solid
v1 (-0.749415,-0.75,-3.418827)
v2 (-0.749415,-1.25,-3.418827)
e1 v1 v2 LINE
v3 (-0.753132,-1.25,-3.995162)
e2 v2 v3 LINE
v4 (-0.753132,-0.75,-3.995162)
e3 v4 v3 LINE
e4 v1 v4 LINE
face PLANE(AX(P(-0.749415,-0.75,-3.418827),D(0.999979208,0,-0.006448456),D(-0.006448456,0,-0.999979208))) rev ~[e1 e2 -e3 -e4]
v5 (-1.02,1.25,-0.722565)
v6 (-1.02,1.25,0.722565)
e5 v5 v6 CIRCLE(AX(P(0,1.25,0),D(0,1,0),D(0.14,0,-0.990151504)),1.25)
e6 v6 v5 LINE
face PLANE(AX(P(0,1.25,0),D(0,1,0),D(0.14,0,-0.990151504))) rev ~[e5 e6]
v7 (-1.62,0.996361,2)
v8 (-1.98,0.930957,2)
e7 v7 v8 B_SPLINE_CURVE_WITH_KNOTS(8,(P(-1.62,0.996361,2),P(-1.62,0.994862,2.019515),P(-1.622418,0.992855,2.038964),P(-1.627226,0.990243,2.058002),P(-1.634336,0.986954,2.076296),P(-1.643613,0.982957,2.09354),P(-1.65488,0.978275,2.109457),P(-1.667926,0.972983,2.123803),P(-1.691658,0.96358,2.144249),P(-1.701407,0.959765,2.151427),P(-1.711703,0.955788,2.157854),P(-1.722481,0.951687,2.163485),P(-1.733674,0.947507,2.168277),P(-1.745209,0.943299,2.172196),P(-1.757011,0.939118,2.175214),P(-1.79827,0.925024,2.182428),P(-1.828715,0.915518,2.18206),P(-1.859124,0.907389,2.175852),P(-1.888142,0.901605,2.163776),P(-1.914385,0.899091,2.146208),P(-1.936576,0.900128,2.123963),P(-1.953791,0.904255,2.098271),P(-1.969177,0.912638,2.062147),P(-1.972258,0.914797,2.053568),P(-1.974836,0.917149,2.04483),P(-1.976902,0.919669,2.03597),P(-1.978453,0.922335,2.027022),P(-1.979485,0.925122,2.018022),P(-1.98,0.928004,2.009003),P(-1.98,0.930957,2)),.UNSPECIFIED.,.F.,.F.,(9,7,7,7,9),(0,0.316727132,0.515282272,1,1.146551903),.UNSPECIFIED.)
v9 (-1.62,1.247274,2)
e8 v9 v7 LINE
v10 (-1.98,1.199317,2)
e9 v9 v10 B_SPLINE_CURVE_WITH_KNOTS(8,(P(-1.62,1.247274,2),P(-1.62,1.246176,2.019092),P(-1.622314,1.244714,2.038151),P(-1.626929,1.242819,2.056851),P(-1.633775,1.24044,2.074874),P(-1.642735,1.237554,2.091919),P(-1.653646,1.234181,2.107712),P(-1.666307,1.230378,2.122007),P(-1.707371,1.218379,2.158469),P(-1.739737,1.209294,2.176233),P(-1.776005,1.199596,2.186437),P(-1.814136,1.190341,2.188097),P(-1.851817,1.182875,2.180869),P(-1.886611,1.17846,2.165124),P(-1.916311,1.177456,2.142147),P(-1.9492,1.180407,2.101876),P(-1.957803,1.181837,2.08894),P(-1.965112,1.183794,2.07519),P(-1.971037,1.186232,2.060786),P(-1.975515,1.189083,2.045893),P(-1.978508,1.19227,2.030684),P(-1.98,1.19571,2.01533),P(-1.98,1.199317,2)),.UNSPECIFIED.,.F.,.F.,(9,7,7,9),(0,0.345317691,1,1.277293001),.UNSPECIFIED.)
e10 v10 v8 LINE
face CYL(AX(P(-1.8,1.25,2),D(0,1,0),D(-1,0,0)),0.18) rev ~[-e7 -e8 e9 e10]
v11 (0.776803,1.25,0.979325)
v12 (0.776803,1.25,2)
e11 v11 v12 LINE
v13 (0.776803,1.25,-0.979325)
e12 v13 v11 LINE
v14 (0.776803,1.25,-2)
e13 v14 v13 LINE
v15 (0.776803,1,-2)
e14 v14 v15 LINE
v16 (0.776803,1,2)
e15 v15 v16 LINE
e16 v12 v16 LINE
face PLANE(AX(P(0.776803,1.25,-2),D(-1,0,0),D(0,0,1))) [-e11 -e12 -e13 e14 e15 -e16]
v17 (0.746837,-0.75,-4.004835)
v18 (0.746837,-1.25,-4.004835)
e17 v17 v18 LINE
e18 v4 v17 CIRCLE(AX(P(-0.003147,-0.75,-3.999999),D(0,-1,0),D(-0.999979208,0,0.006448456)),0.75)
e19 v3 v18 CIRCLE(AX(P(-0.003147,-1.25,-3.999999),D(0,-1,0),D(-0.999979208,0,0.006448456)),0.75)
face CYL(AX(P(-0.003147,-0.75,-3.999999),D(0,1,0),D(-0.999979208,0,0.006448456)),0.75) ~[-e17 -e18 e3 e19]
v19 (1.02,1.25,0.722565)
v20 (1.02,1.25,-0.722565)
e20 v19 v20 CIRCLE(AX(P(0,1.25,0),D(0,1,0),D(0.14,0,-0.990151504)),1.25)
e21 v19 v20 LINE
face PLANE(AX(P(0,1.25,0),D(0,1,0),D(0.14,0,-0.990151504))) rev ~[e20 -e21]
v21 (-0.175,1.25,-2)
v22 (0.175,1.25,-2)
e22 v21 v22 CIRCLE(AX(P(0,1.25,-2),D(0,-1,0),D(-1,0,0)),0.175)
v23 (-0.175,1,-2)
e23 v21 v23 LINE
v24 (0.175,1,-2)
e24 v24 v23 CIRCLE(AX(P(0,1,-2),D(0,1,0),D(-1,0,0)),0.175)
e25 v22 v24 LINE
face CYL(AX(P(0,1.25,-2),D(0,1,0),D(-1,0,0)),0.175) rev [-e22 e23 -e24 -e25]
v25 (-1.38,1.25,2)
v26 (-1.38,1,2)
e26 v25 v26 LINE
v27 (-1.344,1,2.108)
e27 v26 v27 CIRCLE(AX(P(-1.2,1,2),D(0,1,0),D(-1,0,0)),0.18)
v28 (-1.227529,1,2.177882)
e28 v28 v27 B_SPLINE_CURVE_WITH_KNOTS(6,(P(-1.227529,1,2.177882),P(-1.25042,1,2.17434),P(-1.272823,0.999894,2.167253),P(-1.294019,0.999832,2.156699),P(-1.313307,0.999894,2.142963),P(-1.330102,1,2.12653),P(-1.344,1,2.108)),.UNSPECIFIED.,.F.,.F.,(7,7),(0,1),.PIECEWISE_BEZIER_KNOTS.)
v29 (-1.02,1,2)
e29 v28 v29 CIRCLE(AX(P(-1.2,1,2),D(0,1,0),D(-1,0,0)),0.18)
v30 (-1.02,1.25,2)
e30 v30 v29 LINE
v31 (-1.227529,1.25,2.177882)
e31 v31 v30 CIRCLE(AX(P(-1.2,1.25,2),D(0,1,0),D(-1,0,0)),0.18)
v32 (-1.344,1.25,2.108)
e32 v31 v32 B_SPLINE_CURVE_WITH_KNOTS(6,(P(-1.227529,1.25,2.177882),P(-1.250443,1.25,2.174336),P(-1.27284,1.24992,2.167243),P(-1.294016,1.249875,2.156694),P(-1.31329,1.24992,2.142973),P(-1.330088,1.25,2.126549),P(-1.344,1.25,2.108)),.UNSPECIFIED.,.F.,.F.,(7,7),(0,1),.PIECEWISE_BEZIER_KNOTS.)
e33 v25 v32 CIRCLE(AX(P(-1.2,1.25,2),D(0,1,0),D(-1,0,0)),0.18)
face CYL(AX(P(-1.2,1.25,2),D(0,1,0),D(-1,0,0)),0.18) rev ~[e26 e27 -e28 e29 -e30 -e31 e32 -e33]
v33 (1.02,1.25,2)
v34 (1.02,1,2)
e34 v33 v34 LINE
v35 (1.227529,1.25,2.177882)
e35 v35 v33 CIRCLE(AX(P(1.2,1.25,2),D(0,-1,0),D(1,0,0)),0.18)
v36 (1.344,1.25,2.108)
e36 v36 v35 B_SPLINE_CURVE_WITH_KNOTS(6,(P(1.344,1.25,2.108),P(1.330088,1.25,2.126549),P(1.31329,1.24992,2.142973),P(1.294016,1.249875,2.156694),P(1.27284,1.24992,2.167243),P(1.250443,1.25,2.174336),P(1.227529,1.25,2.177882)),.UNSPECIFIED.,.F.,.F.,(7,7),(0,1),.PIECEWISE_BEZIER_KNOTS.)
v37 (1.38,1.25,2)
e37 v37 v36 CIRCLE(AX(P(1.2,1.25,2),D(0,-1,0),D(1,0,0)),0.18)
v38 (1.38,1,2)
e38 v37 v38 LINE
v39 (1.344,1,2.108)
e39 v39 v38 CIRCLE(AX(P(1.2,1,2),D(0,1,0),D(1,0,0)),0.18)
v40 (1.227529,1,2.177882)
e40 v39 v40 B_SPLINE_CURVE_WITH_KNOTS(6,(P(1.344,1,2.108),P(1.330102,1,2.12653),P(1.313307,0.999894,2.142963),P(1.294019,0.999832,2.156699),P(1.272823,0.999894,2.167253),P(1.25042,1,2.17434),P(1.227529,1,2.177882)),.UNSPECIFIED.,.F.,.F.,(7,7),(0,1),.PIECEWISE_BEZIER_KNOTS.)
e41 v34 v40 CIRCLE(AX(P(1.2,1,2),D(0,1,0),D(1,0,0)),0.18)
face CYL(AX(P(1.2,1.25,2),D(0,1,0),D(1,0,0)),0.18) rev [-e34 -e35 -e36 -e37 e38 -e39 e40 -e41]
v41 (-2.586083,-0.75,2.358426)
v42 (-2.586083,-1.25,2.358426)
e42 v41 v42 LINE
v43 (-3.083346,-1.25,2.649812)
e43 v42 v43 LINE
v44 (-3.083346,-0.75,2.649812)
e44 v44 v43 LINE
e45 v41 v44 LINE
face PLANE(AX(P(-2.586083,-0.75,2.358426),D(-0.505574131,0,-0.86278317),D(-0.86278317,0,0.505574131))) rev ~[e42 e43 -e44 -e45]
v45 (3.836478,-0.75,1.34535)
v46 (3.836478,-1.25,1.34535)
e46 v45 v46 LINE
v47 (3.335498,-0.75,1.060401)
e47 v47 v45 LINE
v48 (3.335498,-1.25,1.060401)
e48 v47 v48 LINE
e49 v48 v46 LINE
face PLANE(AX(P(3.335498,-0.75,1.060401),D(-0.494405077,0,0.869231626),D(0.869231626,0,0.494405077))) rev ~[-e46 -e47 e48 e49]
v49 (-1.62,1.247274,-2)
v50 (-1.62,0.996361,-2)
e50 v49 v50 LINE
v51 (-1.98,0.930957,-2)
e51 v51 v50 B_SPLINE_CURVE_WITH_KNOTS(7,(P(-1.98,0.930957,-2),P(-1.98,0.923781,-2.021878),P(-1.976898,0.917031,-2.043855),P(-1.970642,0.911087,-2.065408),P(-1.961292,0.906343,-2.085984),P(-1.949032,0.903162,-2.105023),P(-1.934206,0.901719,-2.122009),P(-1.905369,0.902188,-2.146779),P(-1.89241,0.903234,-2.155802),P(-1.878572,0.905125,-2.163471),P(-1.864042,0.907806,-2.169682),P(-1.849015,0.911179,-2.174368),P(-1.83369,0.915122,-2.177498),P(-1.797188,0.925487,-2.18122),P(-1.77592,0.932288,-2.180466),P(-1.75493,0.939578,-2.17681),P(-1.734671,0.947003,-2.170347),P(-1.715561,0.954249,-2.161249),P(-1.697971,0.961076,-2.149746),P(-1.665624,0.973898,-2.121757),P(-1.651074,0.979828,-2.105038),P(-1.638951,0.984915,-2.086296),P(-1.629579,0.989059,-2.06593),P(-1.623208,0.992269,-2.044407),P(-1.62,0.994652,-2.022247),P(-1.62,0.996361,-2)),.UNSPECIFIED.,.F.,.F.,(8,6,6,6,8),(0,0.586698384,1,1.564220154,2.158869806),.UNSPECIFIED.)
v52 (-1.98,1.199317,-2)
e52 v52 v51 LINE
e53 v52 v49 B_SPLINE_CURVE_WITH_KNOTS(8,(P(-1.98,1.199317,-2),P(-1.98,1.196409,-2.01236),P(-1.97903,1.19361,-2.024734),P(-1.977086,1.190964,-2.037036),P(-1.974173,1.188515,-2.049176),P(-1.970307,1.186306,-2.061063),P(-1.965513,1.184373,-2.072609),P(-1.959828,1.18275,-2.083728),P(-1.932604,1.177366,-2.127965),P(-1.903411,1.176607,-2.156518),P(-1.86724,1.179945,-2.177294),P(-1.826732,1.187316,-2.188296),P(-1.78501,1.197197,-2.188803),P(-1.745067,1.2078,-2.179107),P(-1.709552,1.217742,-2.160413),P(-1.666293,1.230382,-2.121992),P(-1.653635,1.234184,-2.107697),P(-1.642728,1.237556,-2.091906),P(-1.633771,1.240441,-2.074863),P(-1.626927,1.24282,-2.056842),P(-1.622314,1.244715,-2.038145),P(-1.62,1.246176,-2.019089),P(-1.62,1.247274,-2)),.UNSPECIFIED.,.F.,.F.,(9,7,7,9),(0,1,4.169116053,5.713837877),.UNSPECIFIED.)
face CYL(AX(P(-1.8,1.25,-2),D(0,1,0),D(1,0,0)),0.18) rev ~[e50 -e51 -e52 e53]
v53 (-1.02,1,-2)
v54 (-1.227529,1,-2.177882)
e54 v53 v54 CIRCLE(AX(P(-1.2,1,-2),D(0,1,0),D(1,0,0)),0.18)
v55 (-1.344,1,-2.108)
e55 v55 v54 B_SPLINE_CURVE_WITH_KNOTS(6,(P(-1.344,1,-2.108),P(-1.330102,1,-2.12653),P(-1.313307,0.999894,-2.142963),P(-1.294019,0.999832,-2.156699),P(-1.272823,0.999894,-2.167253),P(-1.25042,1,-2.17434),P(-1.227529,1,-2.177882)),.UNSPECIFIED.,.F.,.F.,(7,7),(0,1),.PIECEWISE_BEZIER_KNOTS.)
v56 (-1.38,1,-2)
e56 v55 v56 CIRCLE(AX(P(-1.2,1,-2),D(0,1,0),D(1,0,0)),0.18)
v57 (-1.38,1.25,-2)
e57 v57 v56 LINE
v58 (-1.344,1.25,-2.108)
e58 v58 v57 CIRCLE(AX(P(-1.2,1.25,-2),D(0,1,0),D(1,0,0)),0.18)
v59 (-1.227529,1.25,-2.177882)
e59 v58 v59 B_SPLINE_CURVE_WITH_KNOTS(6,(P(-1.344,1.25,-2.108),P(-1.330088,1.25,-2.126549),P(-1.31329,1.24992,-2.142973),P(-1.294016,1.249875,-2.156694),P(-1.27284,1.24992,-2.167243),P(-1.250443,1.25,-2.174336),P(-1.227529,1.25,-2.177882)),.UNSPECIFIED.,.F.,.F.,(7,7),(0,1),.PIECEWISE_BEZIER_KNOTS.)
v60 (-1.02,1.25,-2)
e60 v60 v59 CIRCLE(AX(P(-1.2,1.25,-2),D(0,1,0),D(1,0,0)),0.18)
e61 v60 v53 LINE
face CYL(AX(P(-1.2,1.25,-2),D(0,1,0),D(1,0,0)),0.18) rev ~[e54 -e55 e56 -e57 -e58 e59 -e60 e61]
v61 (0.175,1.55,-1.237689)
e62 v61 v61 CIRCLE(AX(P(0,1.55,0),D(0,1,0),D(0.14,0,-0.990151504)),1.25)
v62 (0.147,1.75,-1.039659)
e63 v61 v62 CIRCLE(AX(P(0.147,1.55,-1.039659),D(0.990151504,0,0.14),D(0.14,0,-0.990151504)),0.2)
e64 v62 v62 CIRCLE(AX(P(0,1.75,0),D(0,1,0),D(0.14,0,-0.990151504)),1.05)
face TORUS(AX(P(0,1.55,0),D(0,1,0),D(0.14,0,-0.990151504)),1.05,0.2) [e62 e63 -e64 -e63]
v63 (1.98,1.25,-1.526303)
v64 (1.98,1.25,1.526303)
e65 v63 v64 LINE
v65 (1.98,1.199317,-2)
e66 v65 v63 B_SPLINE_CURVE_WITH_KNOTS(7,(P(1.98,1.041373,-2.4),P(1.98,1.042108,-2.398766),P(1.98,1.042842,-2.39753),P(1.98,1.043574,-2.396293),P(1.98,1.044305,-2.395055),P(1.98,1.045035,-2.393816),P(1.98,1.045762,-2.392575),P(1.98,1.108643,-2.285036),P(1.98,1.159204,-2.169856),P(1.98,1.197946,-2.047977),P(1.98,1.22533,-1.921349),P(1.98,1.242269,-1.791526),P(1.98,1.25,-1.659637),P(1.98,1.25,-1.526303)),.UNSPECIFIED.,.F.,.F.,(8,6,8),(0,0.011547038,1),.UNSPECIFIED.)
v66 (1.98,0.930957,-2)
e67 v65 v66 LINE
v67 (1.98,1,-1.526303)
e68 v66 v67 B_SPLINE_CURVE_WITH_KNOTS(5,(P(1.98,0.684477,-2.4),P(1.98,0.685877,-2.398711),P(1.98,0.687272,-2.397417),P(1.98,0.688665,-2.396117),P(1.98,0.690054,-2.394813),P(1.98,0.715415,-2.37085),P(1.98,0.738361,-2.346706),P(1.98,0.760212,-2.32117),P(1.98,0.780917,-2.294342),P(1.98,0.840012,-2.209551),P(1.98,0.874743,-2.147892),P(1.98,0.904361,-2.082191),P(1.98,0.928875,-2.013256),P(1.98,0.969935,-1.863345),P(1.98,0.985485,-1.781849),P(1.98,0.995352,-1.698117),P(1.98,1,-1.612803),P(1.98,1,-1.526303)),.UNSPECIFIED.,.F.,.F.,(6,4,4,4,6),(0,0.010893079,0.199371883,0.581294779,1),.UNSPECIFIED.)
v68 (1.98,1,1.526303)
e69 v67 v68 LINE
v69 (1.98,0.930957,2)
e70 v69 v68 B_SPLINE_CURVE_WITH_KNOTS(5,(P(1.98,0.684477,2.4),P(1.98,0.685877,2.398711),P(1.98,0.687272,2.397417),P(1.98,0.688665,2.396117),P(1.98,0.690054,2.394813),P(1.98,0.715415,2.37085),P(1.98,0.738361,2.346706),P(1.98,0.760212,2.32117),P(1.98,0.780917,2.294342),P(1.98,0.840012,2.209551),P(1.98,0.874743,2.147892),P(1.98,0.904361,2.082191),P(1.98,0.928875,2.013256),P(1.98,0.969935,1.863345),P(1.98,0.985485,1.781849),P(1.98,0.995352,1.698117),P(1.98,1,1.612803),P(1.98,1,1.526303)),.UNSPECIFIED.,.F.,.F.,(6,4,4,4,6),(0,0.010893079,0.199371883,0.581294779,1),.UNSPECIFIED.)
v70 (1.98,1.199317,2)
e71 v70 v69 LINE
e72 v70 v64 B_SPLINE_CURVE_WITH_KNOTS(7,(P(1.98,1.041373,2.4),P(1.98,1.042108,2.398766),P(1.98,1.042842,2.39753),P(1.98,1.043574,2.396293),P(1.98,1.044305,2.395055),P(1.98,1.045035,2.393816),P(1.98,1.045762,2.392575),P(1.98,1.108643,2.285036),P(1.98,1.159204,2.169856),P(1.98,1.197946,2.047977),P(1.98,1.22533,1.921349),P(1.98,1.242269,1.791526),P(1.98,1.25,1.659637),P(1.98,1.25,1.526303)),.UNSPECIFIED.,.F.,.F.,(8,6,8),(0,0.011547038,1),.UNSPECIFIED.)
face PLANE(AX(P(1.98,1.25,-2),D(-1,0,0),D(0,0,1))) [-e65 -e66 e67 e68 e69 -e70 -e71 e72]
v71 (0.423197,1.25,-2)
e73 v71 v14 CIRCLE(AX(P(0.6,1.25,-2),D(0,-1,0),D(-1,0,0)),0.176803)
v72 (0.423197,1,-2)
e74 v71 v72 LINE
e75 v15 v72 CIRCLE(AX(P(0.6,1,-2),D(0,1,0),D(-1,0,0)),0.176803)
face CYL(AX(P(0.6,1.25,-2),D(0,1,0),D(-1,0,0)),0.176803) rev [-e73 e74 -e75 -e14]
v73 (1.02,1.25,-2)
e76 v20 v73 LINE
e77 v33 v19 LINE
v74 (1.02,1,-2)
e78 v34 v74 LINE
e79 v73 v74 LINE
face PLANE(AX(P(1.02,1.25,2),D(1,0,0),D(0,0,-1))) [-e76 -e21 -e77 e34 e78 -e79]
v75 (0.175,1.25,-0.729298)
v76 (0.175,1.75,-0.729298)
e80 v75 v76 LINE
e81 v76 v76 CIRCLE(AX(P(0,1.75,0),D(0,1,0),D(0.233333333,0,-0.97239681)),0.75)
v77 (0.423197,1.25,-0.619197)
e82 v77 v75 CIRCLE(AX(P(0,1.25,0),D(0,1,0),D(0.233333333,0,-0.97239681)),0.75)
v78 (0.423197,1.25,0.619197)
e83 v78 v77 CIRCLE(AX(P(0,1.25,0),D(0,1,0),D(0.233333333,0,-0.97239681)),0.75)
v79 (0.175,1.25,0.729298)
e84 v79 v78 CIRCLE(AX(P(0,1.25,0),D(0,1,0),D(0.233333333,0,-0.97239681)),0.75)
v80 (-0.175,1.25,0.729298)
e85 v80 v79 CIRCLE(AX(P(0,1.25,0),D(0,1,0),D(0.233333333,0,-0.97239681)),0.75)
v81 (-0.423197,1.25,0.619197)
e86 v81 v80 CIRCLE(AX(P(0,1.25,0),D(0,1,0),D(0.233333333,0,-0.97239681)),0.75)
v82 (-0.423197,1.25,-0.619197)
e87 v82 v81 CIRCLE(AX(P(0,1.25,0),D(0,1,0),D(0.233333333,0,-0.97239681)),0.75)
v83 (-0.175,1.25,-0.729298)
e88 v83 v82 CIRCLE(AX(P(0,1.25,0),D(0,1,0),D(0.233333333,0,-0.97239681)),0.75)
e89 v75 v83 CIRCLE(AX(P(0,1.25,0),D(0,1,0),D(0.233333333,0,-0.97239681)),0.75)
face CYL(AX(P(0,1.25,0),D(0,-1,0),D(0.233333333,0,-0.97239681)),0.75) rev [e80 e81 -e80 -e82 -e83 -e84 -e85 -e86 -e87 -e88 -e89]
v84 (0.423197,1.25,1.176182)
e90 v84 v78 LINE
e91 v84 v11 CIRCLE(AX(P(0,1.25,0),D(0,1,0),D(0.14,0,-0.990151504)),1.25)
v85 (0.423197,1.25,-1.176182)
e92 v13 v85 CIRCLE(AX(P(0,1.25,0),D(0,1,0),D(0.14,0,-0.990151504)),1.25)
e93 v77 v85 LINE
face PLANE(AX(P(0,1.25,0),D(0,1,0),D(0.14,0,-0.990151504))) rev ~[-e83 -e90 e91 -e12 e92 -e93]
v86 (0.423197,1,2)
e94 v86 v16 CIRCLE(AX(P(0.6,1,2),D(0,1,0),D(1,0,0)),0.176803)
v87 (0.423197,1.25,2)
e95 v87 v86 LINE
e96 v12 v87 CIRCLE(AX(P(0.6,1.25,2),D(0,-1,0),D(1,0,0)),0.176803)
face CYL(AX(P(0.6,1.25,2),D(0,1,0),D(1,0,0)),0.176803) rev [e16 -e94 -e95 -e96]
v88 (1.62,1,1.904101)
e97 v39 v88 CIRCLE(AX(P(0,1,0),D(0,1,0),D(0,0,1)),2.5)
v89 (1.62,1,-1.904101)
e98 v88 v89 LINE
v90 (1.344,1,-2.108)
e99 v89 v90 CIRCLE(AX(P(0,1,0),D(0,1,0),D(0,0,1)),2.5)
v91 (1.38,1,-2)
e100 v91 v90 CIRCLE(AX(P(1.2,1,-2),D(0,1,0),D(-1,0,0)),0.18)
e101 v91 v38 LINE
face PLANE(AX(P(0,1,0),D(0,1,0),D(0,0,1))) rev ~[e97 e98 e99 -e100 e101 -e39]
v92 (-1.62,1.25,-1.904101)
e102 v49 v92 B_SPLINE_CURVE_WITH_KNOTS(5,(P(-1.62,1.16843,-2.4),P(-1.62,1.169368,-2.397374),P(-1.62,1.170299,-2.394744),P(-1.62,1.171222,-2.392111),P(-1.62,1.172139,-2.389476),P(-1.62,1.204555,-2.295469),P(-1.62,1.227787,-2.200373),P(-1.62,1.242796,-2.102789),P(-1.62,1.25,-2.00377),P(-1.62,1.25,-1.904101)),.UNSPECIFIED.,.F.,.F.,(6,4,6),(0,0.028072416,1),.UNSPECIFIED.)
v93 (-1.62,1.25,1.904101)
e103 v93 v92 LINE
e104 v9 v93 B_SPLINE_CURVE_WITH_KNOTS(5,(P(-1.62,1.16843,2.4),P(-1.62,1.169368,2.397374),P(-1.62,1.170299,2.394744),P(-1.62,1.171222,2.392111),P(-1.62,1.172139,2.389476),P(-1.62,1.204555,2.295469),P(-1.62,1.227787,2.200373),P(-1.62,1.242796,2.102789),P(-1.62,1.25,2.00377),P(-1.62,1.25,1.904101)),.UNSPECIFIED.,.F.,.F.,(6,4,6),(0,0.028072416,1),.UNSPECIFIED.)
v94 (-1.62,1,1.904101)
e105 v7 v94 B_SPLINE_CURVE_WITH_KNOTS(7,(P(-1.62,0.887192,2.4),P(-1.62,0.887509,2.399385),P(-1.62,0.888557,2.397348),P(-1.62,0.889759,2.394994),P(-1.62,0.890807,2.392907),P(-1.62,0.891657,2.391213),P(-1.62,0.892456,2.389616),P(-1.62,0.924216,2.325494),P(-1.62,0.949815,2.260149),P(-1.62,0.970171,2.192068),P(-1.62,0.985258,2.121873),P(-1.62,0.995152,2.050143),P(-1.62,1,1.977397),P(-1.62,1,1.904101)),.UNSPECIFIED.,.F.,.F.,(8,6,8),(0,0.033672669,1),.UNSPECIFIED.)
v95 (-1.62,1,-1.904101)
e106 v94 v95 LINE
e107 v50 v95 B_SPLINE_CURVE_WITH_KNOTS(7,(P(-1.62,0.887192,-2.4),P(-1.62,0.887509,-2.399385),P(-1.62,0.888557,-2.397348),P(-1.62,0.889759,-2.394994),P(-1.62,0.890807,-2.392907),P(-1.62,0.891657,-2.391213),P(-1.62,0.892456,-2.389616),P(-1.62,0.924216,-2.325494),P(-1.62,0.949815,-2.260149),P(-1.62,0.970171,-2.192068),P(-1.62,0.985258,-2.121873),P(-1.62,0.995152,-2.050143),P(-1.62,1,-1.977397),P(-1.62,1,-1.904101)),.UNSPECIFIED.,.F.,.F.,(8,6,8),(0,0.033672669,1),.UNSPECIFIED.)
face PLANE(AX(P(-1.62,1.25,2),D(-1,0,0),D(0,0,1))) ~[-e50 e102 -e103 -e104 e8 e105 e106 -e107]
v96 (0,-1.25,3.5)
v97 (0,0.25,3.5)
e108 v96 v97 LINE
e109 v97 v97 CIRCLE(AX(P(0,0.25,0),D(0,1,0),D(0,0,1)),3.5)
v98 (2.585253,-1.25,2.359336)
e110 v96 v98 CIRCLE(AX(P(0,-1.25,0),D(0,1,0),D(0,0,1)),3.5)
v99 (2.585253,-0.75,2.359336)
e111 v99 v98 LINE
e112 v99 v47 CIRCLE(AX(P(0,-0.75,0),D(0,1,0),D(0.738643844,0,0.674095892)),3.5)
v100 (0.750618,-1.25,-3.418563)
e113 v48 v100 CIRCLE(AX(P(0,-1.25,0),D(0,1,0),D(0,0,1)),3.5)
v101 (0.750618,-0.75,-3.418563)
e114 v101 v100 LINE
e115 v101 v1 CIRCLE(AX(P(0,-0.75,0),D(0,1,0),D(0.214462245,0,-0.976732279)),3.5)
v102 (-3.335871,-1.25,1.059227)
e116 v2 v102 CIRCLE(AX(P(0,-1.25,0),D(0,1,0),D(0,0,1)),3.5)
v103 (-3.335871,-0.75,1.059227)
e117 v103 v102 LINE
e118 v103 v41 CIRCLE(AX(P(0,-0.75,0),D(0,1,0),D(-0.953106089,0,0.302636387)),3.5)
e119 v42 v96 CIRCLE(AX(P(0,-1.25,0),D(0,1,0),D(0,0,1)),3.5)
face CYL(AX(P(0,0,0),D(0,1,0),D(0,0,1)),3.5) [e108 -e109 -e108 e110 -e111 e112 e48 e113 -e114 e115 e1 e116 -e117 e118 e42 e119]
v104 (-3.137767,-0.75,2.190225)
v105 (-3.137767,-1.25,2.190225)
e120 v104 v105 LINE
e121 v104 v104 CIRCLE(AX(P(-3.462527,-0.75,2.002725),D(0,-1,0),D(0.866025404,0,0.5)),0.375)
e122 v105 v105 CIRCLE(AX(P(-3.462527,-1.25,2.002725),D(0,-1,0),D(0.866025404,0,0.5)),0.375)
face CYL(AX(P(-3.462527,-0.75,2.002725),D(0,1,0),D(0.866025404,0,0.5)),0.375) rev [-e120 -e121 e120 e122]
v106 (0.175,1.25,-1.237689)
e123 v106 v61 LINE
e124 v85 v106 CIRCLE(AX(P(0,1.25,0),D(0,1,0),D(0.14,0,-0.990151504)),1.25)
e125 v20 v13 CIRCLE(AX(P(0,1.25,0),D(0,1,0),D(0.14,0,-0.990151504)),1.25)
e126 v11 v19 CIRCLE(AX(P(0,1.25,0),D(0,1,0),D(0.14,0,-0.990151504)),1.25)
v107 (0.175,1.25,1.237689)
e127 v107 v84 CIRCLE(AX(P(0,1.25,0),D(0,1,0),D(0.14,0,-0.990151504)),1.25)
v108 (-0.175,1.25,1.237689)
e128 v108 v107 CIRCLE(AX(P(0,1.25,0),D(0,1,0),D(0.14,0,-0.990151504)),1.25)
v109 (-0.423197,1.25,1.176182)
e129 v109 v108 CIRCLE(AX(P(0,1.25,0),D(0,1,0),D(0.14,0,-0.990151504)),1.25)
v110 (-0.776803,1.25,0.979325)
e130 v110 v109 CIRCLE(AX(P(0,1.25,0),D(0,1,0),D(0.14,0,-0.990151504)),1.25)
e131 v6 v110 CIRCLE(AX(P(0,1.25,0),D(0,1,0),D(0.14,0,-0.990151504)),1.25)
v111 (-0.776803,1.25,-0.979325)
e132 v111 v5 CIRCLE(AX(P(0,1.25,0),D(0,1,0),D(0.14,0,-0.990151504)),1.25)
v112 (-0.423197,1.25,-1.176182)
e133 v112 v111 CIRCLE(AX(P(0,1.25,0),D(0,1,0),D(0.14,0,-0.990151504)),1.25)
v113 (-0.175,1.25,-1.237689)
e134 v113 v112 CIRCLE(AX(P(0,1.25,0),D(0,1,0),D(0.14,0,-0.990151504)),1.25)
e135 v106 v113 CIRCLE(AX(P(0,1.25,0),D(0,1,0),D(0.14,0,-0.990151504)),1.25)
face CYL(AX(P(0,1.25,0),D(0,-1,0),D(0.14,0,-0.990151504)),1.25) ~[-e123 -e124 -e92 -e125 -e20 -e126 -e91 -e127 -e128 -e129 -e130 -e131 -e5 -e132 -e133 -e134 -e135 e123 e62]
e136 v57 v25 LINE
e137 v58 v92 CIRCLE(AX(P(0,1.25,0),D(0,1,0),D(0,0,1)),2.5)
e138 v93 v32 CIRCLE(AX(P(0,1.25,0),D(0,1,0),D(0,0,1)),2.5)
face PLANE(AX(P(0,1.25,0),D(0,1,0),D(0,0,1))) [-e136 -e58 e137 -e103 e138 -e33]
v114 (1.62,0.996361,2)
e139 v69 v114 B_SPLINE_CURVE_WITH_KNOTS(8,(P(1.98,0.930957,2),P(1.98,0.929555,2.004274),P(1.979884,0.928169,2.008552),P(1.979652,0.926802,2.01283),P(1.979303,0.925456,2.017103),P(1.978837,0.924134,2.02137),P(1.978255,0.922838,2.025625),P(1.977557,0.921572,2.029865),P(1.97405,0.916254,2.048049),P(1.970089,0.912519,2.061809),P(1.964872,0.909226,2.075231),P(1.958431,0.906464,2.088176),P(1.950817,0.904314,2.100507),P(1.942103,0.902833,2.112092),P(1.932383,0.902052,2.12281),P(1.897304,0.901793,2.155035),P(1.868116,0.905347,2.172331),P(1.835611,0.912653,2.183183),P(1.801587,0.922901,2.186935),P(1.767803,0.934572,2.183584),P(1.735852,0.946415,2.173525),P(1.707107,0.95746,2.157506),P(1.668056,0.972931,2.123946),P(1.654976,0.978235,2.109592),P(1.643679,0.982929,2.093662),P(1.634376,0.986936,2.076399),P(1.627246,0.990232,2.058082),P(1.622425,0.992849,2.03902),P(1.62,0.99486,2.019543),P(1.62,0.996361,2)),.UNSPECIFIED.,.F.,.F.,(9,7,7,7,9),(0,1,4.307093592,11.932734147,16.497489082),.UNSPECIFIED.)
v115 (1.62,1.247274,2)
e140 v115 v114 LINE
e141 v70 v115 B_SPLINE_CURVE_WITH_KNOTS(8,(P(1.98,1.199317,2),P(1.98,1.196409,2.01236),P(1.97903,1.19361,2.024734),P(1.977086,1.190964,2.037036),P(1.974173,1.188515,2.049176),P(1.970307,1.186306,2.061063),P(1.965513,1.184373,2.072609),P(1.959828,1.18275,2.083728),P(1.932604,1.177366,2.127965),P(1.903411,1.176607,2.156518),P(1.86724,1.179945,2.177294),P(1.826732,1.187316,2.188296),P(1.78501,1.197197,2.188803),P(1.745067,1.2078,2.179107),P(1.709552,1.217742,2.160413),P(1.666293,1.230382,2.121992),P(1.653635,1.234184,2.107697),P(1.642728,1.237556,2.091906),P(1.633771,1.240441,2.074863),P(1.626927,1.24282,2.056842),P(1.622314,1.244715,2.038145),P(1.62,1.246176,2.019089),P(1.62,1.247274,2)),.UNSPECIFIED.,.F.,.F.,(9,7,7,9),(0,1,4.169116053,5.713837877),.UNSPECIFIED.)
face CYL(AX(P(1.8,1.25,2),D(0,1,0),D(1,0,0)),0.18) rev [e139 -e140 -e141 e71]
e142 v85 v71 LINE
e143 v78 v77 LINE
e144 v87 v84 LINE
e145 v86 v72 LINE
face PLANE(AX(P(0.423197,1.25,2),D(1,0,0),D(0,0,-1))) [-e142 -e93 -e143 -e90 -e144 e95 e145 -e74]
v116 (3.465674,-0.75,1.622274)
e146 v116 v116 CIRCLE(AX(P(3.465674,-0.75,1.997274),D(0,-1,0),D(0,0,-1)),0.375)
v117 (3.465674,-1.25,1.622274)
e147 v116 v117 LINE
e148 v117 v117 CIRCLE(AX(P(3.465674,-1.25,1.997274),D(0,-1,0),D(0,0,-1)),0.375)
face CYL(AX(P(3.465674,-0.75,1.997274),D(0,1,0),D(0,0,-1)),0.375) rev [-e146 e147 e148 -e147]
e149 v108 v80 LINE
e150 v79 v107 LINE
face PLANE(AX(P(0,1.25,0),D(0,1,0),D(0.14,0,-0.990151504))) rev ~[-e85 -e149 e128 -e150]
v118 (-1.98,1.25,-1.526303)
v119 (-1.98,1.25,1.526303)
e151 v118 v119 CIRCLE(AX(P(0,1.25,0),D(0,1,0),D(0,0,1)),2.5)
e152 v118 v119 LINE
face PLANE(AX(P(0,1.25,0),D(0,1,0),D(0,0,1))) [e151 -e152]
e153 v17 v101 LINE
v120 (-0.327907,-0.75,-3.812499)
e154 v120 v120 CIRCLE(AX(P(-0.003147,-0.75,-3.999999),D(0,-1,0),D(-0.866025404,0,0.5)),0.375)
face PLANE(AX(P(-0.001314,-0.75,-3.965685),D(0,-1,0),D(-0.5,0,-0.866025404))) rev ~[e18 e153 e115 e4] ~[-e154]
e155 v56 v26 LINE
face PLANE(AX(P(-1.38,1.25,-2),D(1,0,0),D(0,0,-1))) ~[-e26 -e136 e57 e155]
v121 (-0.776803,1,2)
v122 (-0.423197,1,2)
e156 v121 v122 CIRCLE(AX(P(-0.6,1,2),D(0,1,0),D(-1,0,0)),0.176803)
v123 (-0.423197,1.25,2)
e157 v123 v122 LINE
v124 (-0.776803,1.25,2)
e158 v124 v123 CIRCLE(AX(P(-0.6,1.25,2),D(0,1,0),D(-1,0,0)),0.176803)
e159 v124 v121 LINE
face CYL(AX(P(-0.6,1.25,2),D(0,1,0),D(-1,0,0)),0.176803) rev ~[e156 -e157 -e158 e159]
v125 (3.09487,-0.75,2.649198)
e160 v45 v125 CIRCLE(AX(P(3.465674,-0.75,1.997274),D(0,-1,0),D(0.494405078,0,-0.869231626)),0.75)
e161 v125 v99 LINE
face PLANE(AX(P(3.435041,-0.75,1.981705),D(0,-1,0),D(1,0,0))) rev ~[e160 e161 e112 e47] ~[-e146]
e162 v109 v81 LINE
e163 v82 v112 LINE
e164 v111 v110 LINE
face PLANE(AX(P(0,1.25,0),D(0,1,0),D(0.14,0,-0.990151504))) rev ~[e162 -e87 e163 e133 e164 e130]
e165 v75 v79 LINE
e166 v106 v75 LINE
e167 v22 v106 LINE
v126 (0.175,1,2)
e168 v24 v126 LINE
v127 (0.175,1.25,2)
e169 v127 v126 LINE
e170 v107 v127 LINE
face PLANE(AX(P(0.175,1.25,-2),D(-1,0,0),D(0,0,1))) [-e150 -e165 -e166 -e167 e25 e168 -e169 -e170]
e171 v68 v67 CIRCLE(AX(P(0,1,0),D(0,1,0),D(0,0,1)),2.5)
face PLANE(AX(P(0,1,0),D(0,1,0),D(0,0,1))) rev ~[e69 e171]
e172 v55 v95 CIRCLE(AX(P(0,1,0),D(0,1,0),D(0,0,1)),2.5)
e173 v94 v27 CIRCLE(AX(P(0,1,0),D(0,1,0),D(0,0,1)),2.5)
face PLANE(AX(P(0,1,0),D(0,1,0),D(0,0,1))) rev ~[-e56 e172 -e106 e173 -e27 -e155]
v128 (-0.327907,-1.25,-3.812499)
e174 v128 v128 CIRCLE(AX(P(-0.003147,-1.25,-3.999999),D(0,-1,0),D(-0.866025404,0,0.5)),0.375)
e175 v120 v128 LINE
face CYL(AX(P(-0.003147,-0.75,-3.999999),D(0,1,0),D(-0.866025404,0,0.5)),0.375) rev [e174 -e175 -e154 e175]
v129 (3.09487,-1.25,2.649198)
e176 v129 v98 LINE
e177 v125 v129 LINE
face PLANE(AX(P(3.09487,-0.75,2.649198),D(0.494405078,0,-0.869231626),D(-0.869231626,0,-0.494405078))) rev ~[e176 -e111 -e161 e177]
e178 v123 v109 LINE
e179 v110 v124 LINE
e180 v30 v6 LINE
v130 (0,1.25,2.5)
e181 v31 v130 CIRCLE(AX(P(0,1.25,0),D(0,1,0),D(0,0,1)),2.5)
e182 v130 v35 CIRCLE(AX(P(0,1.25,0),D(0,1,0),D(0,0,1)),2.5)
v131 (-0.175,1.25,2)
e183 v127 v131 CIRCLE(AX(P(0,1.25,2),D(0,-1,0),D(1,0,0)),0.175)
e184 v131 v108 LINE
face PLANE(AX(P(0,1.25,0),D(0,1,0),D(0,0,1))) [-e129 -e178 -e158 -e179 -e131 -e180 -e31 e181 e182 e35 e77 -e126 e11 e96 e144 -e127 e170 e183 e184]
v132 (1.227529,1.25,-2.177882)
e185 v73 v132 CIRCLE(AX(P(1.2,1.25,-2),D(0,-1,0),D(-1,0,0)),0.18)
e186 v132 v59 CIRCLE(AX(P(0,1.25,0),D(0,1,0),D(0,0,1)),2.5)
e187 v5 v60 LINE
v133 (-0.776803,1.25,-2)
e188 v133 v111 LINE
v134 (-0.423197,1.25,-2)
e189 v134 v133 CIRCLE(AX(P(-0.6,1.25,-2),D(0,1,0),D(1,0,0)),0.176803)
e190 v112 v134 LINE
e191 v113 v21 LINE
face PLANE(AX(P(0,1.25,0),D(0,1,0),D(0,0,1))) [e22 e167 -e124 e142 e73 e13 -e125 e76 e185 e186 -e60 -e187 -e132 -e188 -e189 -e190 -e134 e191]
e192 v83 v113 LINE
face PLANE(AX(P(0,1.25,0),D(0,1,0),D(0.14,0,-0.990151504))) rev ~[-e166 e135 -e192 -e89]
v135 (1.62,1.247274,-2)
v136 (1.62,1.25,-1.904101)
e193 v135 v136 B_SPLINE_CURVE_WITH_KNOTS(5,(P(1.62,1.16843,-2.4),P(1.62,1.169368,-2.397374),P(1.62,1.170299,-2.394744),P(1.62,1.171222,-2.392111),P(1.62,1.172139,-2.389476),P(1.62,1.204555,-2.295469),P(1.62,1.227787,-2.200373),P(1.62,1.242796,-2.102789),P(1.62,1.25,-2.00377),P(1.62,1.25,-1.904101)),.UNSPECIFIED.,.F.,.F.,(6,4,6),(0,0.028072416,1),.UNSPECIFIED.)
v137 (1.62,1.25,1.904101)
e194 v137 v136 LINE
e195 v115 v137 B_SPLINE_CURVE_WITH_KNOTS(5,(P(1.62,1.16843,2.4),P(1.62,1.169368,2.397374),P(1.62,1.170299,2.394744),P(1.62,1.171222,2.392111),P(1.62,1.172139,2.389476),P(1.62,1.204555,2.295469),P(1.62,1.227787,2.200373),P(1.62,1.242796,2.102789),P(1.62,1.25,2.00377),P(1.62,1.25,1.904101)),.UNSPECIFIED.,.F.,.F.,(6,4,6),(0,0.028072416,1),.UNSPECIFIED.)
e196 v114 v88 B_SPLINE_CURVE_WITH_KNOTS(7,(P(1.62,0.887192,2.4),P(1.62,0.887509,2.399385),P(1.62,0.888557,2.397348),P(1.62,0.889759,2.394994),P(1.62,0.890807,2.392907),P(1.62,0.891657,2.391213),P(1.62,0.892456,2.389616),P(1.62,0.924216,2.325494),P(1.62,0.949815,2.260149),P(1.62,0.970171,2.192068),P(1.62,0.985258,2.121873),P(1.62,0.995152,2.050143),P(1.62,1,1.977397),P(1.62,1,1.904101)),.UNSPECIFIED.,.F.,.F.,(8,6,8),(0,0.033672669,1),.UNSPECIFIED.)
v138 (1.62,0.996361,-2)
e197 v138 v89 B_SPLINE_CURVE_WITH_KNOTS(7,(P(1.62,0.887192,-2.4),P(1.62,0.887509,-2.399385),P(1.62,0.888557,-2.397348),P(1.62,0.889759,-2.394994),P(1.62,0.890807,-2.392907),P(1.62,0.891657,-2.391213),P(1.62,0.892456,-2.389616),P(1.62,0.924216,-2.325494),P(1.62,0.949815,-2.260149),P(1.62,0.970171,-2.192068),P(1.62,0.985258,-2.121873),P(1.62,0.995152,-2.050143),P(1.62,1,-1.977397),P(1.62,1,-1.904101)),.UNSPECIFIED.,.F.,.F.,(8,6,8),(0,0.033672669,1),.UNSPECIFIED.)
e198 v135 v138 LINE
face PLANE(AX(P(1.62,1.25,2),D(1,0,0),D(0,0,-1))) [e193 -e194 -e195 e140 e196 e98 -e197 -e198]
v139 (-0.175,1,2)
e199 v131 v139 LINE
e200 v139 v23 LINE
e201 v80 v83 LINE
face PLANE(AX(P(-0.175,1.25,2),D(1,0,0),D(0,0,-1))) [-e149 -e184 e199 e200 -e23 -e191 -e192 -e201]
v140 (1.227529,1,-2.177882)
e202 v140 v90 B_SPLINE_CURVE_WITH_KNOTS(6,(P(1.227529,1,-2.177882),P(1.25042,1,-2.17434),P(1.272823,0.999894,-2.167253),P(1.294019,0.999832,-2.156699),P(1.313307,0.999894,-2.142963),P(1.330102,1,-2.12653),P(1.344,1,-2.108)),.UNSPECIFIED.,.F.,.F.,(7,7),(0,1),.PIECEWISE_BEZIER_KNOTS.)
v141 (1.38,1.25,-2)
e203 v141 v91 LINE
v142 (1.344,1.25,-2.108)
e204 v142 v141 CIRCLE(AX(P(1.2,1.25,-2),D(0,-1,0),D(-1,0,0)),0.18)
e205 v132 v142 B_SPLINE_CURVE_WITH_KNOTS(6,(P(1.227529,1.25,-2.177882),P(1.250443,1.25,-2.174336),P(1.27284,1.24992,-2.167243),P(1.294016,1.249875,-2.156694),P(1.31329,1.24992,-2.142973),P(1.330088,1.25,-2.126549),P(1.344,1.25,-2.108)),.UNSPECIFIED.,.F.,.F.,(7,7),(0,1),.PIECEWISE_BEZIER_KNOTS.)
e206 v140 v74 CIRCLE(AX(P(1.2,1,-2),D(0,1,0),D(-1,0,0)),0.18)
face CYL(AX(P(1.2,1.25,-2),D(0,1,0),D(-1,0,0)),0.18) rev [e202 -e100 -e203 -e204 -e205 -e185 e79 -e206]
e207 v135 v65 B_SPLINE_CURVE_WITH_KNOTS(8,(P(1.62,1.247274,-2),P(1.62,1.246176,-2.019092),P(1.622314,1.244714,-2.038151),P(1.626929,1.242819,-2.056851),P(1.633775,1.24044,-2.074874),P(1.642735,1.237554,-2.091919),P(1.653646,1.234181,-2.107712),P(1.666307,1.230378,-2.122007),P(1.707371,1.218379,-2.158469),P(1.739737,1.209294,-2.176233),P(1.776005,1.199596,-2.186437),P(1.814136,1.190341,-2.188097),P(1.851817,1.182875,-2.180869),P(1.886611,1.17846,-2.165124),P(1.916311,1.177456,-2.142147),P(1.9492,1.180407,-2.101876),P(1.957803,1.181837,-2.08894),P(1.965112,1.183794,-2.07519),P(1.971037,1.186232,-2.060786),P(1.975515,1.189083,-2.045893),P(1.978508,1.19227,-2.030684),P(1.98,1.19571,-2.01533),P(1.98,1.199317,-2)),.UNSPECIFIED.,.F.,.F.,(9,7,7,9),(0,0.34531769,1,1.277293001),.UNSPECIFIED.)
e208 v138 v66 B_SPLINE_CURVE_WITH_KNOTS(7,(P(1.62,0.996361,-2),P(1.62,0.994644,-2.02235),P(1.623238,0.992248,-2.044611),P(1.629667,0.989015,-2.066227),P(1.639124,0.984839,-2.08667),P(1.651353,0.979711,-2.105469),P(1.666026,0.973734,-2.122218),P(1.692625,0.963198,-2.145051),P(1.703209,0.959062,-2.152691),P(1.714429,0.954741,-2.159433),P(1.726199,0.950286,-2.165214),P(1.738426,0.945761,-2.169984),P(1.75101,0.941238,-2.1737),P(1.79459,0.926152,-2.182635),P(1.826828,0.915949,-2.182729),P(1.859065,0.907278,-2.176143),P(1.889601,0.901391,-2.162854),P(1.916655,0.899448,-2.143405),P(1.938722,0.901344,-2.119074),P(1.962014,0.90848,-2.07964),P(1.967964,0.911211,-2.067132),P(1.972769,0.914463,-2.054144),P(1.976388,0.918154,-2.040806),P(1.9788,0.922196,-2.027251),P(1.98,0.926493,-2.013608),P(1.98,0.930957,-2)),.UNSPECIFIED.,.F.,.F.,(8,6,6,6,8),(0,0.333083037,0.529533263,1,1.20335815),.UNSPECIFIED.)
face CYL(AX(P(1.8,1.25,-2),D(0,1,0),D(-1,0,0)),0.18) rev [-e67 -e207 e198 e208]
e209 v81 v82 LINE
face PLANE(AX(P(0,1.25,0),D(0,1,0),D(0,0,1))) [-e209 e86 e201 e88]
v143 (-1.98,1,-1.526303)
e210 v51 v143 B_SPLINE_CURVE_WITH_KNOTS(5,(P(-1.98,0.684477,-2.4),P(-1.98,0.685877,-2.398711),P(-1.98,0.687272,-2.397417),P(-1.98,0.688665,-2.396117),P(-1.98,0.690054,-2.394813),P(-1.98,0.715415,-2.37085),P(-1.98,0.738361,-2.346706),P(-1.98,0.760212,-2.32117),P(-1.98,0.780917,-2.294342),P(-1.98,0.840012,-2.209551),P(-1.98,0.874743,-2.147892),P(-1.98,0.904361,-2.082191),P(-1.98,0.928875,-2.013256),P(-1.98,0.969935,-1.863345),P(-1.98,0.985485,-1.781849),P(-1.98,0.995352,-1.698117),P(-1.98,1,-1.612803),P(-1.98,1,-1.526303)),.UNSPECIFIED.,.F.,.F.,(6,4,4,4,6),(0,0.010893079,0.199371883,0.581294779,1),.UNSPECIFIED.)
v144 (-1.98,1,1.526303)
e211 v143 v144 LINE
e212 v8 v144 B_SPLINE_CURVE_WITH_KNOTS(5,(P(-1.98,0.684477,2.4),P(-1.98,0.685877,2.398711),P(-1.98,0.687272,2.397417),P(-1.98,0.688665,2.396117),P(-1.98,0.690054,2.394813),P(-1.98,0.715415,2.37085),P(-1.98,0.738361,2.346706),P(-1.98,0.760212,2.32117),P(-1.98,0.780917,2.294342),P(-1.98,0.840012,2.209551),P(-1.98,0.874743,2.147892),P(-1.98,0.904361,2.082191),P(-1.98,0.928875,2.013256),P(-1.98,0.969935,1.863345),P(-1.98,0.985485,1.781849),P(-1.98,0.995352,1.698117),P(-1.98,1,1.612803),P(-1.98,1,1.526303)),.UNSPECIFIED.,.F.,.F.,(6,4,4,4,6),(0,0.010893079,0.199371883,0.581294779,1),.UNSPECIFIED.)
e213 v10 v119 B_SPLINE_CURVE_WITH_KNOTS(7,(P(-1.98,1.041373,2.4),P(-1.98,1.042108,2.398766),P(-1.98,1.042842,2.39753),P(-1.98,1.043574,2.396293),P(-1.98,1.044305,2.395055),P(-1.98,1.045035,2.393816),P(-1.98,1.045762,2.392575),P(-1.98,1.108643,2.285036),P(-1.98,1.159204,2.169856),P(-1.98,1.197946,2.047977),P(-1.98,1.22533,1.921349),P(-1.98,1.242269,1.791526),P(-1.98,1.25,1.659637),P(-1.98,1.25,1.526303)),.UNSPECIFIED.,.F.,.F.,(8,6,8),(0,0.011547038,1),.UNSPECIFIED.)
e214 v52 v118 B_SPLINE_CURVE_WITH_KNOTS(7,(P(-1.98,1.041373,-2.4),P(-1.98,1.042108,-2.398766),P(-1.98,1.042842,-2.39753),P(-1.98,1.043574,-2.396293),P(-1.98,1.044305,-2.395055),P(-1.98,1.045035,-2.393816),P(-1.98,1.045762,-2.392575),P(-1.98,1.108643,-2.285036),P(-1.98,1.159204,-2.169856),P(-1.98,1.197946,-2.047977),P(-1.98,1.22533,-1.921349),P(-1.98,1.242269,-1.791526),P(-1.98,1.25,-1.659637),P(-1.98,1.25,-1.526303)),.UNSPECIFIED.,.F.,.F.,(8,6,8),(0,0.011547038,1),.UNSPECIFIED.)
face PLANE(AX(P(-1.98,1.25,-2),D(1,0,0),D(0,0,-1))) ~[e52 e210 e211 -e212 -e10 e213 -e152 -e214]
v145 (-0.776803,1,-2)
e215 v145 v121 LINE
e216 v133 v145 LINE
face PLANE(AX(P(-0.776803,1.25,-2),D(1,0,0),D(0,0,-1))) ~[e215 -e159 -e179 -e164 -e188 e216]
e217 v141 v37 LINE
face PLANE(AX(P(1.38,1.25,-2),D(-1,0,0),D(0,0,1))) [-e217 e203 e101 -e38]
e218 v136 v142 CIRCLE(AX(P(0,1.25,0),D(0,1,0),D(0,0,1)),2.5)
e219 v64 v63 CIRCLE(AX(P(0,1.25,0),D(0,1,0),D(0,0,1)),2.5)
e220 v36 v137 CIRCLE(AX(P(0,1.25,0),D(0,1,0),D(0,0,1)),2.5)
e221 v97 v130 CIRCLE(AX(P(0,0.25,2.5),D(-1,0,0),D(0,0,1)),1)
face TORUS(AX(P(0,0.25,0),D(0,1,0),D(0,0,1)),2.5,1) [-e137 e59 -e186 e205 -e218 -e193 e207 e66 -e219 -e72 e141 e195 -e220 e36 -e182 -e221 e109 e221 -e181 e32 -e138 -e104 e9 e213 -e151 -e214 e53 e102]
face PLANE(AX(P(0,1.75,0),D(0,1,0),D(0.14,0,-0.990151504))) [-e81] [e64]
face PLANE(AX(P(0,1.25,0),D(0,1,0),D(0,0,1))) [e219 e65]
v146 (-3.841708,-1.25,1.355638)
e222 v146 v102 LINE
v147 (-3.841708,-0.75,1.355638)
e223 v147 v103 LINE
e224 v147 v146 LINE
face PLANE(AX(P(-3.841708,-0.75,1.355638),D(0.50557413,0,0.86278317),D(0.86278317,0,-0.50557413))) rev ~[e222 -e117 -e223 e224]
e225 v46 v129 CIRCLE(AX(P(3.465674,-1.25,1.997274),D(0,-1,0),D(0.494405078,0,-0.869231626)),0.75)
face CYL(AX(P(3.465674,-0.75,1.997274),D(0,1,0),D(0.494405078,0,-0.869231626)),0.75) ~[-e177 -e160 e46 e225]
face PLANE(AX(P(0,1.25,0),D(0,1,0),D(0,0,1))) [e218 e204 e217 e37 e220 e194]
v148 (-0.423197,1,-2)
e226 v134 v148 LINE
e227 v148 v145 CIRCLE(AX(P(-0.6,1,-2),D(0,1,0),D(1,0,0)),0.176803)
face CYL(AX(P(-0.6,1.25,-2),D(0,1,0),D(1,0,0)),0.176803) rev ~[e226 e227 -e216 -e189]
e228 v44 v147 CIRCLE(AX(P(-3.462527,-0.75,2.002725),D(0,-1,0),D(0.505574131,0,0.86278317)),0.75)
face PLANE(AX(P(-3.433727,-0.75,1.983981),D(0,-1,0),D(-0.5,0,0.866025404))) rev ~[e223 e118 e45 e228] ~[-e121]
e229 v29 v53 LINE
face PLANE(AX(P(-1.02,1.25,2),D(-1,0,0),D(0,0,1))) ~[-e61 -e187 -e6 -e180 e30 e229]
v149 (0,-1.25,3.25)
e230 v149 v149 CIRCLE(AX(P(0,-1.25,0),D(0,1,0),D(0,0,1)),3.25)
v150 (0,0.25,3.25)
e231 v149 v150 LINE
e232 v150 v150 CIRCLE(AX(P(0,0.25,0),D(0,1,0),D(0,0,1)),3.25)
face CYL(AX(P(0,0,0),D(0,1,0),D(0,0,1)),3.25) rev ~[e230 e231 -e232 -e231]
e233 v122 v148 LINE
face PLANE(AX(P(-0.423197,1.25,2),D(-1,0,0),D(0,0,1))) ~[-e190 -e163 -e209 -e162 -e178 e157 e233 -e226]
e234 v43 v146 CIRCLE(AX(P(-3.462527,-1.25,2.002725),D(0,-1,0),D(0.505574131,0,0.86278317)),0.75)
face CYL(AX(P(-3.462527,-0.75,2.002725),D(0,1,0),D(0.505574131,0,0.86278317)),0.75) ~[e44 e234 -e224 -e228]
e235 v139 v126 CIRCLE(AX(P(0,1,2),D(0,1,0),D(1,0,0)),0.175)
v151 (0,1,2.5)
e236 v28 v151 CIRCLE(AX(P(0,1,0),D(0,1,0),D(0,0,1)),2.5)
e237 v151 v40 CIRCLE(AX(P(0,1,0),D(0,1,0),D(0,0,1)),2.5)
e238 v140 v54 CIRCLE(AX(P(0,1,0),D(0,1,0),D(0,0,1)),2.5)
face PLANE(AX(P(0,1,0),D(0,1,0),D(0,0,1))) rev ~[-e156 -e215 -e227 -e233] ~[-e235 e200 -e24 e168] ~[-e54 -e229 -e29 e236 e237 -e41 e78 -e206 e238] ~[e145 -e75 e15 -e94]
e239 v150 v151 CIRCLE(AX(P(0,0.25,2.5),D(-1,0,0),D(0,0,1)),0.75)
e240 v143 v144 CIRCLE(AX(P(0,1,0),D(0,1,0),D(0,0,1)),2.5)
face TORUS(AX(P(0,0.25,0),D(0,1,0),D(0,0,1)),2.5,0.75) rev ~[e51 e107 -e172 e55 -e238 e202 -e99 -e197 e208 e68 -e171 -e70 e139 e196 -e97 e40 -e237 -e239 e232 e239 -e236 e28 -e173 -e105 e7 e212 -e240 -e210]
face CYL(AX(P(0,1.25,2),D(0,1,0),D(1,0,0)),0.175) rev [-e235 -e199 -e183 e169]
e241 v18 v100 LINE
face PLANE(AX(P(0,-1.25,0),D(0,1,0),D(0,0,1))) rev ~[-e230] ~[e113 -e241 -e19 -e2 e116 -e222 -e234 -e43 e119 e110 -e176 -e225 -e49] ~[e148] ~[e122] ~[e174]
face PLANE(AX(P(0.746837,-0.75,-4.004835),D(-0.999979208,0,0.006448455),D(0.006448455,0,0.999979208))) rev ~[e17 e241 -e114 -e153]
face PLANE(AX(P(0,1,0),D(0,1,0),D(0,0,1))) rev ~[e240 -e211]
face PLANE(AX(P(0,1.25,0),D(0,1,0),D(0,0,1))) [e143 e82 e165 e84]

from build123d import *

# Parameters (mm, degrees)
SKETCH1_R           = 3.5
BOSS_EXTRUDE1_DEPTH = 1.25
FILLET1_R           = 1
SHELL1_T            = -0.25
CUT_EXTRUDE2_DEPTH  = 10
SKETCH4_R           = 1.25
SKETCH4_R_2         = 0.75
BOSS_EXTRUDE2_DEPTH = 0.5
FILLET2_R           = 0.2
BOSS_EXTRUDE3_START = -0.5
SKETCH5_R           = 0.375
BOSS_EXTRUDE3_DEPTH = 0.5
CIRPATTERN1_COUNT   = 3


with BuildPart() as part:
    # Sketch1 → Boss-Extrude1 (new, symmetric)
    with BuildSketch(Plane(origin=(0, 0, 0), x_dir=(1, 0, 0), z_dir=(0, 1, 0))):
        with Locations(Location((0, 0, 0), (0, 0, 270))):
            Circle(SKETCH1_R)
    extrude(amount=BOSS_EXTRUDE1_DEPTH, both=True)

    # Fillet1
    fillet1_edges = [part.edges().sort_by_distance(p)[0] for p in [
        (0, 1.25, -3.5),
    ]]
    fillet(fillet1_edges, radius=FILLET1_R)

    # Shell1
    shell1_openings = [part.faces().sort_by_distance(p)[0] for p in [
        (0, -1.25, 0),
    ]]
    offset(amount=SHELL1_T, openings=shell1_openings, kind=Kind.INTERSECTION)

    # Sketch2 → Cut-Extrude2 (cut)
    with BuildSketch(Plane(origin=(0, 1.25, 0), x_dir=(1, 0, 0), z_dir=(0, 1, 0))):
        with BuildLine():
            Line((0.175, 2), (0.175, -2))
            ThreePointArc((0.175, -2), (0, -2.175), (-0.175, -2))
            Line((-0.175, -2), (-0.175, 2))
            ThreePointArc((-0.175, 2), (0, 2.175), (0.175, 2))
        make_face()
        with BuildLine():
            Line((0.776803156, 2), (0.776803156, -2))
            ThreePointArc((0.776803156, -2), (0.6, -2.176803156), (0.423196844, -2))
            Line((0.423196844, -2), (0.423196844, 2))
            ThreePointArc((0.423196844, 2), (0.6, 2.176803156), (0.776803156, 2))
        make_face()
        with BuildLine():
            Line((1.38, 2), (1.38, -2))
            ThreePointArc((1.38, -2), (1.2, -2.18), (1.02, -2))
            Line((1.02, -2), (1.02, 2))
            ThreePointArc((1.02, 2), (1.2, 2.18), (1.38, 2))
        make_face()
        with BuildLine():
            Line((1.98, 2), (1.98, -2))
            ThreePointArc((1.98, -2), (1.8, -2.18), (1.62, -2))
            Line((1.62, -2), (1.62, 2))
            ThreePointArc((1.62, 2), (1.8, 2.18), (1.98, 2))
        make_face()
    cut_extrude2 = extrude(amount=-CUT_EXTRUDE2_DEPTH, mode=Mode.SUBTRACT)

    # Mirror1: Cut-Extrude2 across plane
    add(cut_extrude2.mirror(Plane(origin=(0, 0, 0), x_dir=(0, 0, 1), z_dir=(1, 0, 0))), mode=Mode.SUBTRACT)

    # Sketch4 → Boss-Extrude2 (add)
    with BuildSketch(Plane(origin=(0, 1.25, 0), x_dir=(1, 0, 0), z_dir=(0, 1, 0))):
        with Locations(Location((0, 0, 0), (0, 0, 81.952153753))):
            Circle(SKETCH4_R)
        with Locations(Location((0, 0, 0), (0, 0, 76.506601178))):
            Circle(SKETCH4_R_2, mode=Mode.SUBTRACT)
    extrude(amount=BOSS_EXTRUDE2_DEPTH)

    # Fillet2
    fillet2_edges = [part.edges().sort_by_distance(p)[0] for p in [
        (-0.175, 1.75, 1.237689379),
    ]]
    fillet(fillet2_edges, radius=FILLET2_R)

    # Sketch5 → Boss-Extrude3 (add)
    with BuildSketch(Plane.XZ.offset(1.25).offset(BOSS_EXTRUDE3_START)):
        with BuildLine():
            Line((3.335498429, 1.060400975), (3.83647794, 1.345350126))
            ThreePointArc((3.83647794, 1.345350126), (4.117597851, 2.368077654), (3.094870323, 2.649197565))
            Line((3.094870323, 2.649197565), (2.585253454, 2.359335622))
            ThreePointArc((2.585253454, 2.359335622), (3.030781008, 1.750533199), (3.335498429, 1.060400975))
        make_face()
        with Locations(Location((3.465674131, 1.997273846, 0), (0, 0, 270))):
            Circle(SKETCH5_R, mode=Mode.SUBTRACT)
    boss_extrude3 = extrude(amount=BOSS_EXTRUDE3_DEPTH)

    # CirPattern1: Boss-Extrude3 ×3 about axis
    cirpattern1_axis = Axis((0, 0, 0), (0, 1, 0))
    for i in range(1, CIRPATTERN1_COUNT):
        add(boss_extrude3.rotate(cirpattern1_axis, i * 360 / CIRPATTERN1_COUNT))


solid = part.part
